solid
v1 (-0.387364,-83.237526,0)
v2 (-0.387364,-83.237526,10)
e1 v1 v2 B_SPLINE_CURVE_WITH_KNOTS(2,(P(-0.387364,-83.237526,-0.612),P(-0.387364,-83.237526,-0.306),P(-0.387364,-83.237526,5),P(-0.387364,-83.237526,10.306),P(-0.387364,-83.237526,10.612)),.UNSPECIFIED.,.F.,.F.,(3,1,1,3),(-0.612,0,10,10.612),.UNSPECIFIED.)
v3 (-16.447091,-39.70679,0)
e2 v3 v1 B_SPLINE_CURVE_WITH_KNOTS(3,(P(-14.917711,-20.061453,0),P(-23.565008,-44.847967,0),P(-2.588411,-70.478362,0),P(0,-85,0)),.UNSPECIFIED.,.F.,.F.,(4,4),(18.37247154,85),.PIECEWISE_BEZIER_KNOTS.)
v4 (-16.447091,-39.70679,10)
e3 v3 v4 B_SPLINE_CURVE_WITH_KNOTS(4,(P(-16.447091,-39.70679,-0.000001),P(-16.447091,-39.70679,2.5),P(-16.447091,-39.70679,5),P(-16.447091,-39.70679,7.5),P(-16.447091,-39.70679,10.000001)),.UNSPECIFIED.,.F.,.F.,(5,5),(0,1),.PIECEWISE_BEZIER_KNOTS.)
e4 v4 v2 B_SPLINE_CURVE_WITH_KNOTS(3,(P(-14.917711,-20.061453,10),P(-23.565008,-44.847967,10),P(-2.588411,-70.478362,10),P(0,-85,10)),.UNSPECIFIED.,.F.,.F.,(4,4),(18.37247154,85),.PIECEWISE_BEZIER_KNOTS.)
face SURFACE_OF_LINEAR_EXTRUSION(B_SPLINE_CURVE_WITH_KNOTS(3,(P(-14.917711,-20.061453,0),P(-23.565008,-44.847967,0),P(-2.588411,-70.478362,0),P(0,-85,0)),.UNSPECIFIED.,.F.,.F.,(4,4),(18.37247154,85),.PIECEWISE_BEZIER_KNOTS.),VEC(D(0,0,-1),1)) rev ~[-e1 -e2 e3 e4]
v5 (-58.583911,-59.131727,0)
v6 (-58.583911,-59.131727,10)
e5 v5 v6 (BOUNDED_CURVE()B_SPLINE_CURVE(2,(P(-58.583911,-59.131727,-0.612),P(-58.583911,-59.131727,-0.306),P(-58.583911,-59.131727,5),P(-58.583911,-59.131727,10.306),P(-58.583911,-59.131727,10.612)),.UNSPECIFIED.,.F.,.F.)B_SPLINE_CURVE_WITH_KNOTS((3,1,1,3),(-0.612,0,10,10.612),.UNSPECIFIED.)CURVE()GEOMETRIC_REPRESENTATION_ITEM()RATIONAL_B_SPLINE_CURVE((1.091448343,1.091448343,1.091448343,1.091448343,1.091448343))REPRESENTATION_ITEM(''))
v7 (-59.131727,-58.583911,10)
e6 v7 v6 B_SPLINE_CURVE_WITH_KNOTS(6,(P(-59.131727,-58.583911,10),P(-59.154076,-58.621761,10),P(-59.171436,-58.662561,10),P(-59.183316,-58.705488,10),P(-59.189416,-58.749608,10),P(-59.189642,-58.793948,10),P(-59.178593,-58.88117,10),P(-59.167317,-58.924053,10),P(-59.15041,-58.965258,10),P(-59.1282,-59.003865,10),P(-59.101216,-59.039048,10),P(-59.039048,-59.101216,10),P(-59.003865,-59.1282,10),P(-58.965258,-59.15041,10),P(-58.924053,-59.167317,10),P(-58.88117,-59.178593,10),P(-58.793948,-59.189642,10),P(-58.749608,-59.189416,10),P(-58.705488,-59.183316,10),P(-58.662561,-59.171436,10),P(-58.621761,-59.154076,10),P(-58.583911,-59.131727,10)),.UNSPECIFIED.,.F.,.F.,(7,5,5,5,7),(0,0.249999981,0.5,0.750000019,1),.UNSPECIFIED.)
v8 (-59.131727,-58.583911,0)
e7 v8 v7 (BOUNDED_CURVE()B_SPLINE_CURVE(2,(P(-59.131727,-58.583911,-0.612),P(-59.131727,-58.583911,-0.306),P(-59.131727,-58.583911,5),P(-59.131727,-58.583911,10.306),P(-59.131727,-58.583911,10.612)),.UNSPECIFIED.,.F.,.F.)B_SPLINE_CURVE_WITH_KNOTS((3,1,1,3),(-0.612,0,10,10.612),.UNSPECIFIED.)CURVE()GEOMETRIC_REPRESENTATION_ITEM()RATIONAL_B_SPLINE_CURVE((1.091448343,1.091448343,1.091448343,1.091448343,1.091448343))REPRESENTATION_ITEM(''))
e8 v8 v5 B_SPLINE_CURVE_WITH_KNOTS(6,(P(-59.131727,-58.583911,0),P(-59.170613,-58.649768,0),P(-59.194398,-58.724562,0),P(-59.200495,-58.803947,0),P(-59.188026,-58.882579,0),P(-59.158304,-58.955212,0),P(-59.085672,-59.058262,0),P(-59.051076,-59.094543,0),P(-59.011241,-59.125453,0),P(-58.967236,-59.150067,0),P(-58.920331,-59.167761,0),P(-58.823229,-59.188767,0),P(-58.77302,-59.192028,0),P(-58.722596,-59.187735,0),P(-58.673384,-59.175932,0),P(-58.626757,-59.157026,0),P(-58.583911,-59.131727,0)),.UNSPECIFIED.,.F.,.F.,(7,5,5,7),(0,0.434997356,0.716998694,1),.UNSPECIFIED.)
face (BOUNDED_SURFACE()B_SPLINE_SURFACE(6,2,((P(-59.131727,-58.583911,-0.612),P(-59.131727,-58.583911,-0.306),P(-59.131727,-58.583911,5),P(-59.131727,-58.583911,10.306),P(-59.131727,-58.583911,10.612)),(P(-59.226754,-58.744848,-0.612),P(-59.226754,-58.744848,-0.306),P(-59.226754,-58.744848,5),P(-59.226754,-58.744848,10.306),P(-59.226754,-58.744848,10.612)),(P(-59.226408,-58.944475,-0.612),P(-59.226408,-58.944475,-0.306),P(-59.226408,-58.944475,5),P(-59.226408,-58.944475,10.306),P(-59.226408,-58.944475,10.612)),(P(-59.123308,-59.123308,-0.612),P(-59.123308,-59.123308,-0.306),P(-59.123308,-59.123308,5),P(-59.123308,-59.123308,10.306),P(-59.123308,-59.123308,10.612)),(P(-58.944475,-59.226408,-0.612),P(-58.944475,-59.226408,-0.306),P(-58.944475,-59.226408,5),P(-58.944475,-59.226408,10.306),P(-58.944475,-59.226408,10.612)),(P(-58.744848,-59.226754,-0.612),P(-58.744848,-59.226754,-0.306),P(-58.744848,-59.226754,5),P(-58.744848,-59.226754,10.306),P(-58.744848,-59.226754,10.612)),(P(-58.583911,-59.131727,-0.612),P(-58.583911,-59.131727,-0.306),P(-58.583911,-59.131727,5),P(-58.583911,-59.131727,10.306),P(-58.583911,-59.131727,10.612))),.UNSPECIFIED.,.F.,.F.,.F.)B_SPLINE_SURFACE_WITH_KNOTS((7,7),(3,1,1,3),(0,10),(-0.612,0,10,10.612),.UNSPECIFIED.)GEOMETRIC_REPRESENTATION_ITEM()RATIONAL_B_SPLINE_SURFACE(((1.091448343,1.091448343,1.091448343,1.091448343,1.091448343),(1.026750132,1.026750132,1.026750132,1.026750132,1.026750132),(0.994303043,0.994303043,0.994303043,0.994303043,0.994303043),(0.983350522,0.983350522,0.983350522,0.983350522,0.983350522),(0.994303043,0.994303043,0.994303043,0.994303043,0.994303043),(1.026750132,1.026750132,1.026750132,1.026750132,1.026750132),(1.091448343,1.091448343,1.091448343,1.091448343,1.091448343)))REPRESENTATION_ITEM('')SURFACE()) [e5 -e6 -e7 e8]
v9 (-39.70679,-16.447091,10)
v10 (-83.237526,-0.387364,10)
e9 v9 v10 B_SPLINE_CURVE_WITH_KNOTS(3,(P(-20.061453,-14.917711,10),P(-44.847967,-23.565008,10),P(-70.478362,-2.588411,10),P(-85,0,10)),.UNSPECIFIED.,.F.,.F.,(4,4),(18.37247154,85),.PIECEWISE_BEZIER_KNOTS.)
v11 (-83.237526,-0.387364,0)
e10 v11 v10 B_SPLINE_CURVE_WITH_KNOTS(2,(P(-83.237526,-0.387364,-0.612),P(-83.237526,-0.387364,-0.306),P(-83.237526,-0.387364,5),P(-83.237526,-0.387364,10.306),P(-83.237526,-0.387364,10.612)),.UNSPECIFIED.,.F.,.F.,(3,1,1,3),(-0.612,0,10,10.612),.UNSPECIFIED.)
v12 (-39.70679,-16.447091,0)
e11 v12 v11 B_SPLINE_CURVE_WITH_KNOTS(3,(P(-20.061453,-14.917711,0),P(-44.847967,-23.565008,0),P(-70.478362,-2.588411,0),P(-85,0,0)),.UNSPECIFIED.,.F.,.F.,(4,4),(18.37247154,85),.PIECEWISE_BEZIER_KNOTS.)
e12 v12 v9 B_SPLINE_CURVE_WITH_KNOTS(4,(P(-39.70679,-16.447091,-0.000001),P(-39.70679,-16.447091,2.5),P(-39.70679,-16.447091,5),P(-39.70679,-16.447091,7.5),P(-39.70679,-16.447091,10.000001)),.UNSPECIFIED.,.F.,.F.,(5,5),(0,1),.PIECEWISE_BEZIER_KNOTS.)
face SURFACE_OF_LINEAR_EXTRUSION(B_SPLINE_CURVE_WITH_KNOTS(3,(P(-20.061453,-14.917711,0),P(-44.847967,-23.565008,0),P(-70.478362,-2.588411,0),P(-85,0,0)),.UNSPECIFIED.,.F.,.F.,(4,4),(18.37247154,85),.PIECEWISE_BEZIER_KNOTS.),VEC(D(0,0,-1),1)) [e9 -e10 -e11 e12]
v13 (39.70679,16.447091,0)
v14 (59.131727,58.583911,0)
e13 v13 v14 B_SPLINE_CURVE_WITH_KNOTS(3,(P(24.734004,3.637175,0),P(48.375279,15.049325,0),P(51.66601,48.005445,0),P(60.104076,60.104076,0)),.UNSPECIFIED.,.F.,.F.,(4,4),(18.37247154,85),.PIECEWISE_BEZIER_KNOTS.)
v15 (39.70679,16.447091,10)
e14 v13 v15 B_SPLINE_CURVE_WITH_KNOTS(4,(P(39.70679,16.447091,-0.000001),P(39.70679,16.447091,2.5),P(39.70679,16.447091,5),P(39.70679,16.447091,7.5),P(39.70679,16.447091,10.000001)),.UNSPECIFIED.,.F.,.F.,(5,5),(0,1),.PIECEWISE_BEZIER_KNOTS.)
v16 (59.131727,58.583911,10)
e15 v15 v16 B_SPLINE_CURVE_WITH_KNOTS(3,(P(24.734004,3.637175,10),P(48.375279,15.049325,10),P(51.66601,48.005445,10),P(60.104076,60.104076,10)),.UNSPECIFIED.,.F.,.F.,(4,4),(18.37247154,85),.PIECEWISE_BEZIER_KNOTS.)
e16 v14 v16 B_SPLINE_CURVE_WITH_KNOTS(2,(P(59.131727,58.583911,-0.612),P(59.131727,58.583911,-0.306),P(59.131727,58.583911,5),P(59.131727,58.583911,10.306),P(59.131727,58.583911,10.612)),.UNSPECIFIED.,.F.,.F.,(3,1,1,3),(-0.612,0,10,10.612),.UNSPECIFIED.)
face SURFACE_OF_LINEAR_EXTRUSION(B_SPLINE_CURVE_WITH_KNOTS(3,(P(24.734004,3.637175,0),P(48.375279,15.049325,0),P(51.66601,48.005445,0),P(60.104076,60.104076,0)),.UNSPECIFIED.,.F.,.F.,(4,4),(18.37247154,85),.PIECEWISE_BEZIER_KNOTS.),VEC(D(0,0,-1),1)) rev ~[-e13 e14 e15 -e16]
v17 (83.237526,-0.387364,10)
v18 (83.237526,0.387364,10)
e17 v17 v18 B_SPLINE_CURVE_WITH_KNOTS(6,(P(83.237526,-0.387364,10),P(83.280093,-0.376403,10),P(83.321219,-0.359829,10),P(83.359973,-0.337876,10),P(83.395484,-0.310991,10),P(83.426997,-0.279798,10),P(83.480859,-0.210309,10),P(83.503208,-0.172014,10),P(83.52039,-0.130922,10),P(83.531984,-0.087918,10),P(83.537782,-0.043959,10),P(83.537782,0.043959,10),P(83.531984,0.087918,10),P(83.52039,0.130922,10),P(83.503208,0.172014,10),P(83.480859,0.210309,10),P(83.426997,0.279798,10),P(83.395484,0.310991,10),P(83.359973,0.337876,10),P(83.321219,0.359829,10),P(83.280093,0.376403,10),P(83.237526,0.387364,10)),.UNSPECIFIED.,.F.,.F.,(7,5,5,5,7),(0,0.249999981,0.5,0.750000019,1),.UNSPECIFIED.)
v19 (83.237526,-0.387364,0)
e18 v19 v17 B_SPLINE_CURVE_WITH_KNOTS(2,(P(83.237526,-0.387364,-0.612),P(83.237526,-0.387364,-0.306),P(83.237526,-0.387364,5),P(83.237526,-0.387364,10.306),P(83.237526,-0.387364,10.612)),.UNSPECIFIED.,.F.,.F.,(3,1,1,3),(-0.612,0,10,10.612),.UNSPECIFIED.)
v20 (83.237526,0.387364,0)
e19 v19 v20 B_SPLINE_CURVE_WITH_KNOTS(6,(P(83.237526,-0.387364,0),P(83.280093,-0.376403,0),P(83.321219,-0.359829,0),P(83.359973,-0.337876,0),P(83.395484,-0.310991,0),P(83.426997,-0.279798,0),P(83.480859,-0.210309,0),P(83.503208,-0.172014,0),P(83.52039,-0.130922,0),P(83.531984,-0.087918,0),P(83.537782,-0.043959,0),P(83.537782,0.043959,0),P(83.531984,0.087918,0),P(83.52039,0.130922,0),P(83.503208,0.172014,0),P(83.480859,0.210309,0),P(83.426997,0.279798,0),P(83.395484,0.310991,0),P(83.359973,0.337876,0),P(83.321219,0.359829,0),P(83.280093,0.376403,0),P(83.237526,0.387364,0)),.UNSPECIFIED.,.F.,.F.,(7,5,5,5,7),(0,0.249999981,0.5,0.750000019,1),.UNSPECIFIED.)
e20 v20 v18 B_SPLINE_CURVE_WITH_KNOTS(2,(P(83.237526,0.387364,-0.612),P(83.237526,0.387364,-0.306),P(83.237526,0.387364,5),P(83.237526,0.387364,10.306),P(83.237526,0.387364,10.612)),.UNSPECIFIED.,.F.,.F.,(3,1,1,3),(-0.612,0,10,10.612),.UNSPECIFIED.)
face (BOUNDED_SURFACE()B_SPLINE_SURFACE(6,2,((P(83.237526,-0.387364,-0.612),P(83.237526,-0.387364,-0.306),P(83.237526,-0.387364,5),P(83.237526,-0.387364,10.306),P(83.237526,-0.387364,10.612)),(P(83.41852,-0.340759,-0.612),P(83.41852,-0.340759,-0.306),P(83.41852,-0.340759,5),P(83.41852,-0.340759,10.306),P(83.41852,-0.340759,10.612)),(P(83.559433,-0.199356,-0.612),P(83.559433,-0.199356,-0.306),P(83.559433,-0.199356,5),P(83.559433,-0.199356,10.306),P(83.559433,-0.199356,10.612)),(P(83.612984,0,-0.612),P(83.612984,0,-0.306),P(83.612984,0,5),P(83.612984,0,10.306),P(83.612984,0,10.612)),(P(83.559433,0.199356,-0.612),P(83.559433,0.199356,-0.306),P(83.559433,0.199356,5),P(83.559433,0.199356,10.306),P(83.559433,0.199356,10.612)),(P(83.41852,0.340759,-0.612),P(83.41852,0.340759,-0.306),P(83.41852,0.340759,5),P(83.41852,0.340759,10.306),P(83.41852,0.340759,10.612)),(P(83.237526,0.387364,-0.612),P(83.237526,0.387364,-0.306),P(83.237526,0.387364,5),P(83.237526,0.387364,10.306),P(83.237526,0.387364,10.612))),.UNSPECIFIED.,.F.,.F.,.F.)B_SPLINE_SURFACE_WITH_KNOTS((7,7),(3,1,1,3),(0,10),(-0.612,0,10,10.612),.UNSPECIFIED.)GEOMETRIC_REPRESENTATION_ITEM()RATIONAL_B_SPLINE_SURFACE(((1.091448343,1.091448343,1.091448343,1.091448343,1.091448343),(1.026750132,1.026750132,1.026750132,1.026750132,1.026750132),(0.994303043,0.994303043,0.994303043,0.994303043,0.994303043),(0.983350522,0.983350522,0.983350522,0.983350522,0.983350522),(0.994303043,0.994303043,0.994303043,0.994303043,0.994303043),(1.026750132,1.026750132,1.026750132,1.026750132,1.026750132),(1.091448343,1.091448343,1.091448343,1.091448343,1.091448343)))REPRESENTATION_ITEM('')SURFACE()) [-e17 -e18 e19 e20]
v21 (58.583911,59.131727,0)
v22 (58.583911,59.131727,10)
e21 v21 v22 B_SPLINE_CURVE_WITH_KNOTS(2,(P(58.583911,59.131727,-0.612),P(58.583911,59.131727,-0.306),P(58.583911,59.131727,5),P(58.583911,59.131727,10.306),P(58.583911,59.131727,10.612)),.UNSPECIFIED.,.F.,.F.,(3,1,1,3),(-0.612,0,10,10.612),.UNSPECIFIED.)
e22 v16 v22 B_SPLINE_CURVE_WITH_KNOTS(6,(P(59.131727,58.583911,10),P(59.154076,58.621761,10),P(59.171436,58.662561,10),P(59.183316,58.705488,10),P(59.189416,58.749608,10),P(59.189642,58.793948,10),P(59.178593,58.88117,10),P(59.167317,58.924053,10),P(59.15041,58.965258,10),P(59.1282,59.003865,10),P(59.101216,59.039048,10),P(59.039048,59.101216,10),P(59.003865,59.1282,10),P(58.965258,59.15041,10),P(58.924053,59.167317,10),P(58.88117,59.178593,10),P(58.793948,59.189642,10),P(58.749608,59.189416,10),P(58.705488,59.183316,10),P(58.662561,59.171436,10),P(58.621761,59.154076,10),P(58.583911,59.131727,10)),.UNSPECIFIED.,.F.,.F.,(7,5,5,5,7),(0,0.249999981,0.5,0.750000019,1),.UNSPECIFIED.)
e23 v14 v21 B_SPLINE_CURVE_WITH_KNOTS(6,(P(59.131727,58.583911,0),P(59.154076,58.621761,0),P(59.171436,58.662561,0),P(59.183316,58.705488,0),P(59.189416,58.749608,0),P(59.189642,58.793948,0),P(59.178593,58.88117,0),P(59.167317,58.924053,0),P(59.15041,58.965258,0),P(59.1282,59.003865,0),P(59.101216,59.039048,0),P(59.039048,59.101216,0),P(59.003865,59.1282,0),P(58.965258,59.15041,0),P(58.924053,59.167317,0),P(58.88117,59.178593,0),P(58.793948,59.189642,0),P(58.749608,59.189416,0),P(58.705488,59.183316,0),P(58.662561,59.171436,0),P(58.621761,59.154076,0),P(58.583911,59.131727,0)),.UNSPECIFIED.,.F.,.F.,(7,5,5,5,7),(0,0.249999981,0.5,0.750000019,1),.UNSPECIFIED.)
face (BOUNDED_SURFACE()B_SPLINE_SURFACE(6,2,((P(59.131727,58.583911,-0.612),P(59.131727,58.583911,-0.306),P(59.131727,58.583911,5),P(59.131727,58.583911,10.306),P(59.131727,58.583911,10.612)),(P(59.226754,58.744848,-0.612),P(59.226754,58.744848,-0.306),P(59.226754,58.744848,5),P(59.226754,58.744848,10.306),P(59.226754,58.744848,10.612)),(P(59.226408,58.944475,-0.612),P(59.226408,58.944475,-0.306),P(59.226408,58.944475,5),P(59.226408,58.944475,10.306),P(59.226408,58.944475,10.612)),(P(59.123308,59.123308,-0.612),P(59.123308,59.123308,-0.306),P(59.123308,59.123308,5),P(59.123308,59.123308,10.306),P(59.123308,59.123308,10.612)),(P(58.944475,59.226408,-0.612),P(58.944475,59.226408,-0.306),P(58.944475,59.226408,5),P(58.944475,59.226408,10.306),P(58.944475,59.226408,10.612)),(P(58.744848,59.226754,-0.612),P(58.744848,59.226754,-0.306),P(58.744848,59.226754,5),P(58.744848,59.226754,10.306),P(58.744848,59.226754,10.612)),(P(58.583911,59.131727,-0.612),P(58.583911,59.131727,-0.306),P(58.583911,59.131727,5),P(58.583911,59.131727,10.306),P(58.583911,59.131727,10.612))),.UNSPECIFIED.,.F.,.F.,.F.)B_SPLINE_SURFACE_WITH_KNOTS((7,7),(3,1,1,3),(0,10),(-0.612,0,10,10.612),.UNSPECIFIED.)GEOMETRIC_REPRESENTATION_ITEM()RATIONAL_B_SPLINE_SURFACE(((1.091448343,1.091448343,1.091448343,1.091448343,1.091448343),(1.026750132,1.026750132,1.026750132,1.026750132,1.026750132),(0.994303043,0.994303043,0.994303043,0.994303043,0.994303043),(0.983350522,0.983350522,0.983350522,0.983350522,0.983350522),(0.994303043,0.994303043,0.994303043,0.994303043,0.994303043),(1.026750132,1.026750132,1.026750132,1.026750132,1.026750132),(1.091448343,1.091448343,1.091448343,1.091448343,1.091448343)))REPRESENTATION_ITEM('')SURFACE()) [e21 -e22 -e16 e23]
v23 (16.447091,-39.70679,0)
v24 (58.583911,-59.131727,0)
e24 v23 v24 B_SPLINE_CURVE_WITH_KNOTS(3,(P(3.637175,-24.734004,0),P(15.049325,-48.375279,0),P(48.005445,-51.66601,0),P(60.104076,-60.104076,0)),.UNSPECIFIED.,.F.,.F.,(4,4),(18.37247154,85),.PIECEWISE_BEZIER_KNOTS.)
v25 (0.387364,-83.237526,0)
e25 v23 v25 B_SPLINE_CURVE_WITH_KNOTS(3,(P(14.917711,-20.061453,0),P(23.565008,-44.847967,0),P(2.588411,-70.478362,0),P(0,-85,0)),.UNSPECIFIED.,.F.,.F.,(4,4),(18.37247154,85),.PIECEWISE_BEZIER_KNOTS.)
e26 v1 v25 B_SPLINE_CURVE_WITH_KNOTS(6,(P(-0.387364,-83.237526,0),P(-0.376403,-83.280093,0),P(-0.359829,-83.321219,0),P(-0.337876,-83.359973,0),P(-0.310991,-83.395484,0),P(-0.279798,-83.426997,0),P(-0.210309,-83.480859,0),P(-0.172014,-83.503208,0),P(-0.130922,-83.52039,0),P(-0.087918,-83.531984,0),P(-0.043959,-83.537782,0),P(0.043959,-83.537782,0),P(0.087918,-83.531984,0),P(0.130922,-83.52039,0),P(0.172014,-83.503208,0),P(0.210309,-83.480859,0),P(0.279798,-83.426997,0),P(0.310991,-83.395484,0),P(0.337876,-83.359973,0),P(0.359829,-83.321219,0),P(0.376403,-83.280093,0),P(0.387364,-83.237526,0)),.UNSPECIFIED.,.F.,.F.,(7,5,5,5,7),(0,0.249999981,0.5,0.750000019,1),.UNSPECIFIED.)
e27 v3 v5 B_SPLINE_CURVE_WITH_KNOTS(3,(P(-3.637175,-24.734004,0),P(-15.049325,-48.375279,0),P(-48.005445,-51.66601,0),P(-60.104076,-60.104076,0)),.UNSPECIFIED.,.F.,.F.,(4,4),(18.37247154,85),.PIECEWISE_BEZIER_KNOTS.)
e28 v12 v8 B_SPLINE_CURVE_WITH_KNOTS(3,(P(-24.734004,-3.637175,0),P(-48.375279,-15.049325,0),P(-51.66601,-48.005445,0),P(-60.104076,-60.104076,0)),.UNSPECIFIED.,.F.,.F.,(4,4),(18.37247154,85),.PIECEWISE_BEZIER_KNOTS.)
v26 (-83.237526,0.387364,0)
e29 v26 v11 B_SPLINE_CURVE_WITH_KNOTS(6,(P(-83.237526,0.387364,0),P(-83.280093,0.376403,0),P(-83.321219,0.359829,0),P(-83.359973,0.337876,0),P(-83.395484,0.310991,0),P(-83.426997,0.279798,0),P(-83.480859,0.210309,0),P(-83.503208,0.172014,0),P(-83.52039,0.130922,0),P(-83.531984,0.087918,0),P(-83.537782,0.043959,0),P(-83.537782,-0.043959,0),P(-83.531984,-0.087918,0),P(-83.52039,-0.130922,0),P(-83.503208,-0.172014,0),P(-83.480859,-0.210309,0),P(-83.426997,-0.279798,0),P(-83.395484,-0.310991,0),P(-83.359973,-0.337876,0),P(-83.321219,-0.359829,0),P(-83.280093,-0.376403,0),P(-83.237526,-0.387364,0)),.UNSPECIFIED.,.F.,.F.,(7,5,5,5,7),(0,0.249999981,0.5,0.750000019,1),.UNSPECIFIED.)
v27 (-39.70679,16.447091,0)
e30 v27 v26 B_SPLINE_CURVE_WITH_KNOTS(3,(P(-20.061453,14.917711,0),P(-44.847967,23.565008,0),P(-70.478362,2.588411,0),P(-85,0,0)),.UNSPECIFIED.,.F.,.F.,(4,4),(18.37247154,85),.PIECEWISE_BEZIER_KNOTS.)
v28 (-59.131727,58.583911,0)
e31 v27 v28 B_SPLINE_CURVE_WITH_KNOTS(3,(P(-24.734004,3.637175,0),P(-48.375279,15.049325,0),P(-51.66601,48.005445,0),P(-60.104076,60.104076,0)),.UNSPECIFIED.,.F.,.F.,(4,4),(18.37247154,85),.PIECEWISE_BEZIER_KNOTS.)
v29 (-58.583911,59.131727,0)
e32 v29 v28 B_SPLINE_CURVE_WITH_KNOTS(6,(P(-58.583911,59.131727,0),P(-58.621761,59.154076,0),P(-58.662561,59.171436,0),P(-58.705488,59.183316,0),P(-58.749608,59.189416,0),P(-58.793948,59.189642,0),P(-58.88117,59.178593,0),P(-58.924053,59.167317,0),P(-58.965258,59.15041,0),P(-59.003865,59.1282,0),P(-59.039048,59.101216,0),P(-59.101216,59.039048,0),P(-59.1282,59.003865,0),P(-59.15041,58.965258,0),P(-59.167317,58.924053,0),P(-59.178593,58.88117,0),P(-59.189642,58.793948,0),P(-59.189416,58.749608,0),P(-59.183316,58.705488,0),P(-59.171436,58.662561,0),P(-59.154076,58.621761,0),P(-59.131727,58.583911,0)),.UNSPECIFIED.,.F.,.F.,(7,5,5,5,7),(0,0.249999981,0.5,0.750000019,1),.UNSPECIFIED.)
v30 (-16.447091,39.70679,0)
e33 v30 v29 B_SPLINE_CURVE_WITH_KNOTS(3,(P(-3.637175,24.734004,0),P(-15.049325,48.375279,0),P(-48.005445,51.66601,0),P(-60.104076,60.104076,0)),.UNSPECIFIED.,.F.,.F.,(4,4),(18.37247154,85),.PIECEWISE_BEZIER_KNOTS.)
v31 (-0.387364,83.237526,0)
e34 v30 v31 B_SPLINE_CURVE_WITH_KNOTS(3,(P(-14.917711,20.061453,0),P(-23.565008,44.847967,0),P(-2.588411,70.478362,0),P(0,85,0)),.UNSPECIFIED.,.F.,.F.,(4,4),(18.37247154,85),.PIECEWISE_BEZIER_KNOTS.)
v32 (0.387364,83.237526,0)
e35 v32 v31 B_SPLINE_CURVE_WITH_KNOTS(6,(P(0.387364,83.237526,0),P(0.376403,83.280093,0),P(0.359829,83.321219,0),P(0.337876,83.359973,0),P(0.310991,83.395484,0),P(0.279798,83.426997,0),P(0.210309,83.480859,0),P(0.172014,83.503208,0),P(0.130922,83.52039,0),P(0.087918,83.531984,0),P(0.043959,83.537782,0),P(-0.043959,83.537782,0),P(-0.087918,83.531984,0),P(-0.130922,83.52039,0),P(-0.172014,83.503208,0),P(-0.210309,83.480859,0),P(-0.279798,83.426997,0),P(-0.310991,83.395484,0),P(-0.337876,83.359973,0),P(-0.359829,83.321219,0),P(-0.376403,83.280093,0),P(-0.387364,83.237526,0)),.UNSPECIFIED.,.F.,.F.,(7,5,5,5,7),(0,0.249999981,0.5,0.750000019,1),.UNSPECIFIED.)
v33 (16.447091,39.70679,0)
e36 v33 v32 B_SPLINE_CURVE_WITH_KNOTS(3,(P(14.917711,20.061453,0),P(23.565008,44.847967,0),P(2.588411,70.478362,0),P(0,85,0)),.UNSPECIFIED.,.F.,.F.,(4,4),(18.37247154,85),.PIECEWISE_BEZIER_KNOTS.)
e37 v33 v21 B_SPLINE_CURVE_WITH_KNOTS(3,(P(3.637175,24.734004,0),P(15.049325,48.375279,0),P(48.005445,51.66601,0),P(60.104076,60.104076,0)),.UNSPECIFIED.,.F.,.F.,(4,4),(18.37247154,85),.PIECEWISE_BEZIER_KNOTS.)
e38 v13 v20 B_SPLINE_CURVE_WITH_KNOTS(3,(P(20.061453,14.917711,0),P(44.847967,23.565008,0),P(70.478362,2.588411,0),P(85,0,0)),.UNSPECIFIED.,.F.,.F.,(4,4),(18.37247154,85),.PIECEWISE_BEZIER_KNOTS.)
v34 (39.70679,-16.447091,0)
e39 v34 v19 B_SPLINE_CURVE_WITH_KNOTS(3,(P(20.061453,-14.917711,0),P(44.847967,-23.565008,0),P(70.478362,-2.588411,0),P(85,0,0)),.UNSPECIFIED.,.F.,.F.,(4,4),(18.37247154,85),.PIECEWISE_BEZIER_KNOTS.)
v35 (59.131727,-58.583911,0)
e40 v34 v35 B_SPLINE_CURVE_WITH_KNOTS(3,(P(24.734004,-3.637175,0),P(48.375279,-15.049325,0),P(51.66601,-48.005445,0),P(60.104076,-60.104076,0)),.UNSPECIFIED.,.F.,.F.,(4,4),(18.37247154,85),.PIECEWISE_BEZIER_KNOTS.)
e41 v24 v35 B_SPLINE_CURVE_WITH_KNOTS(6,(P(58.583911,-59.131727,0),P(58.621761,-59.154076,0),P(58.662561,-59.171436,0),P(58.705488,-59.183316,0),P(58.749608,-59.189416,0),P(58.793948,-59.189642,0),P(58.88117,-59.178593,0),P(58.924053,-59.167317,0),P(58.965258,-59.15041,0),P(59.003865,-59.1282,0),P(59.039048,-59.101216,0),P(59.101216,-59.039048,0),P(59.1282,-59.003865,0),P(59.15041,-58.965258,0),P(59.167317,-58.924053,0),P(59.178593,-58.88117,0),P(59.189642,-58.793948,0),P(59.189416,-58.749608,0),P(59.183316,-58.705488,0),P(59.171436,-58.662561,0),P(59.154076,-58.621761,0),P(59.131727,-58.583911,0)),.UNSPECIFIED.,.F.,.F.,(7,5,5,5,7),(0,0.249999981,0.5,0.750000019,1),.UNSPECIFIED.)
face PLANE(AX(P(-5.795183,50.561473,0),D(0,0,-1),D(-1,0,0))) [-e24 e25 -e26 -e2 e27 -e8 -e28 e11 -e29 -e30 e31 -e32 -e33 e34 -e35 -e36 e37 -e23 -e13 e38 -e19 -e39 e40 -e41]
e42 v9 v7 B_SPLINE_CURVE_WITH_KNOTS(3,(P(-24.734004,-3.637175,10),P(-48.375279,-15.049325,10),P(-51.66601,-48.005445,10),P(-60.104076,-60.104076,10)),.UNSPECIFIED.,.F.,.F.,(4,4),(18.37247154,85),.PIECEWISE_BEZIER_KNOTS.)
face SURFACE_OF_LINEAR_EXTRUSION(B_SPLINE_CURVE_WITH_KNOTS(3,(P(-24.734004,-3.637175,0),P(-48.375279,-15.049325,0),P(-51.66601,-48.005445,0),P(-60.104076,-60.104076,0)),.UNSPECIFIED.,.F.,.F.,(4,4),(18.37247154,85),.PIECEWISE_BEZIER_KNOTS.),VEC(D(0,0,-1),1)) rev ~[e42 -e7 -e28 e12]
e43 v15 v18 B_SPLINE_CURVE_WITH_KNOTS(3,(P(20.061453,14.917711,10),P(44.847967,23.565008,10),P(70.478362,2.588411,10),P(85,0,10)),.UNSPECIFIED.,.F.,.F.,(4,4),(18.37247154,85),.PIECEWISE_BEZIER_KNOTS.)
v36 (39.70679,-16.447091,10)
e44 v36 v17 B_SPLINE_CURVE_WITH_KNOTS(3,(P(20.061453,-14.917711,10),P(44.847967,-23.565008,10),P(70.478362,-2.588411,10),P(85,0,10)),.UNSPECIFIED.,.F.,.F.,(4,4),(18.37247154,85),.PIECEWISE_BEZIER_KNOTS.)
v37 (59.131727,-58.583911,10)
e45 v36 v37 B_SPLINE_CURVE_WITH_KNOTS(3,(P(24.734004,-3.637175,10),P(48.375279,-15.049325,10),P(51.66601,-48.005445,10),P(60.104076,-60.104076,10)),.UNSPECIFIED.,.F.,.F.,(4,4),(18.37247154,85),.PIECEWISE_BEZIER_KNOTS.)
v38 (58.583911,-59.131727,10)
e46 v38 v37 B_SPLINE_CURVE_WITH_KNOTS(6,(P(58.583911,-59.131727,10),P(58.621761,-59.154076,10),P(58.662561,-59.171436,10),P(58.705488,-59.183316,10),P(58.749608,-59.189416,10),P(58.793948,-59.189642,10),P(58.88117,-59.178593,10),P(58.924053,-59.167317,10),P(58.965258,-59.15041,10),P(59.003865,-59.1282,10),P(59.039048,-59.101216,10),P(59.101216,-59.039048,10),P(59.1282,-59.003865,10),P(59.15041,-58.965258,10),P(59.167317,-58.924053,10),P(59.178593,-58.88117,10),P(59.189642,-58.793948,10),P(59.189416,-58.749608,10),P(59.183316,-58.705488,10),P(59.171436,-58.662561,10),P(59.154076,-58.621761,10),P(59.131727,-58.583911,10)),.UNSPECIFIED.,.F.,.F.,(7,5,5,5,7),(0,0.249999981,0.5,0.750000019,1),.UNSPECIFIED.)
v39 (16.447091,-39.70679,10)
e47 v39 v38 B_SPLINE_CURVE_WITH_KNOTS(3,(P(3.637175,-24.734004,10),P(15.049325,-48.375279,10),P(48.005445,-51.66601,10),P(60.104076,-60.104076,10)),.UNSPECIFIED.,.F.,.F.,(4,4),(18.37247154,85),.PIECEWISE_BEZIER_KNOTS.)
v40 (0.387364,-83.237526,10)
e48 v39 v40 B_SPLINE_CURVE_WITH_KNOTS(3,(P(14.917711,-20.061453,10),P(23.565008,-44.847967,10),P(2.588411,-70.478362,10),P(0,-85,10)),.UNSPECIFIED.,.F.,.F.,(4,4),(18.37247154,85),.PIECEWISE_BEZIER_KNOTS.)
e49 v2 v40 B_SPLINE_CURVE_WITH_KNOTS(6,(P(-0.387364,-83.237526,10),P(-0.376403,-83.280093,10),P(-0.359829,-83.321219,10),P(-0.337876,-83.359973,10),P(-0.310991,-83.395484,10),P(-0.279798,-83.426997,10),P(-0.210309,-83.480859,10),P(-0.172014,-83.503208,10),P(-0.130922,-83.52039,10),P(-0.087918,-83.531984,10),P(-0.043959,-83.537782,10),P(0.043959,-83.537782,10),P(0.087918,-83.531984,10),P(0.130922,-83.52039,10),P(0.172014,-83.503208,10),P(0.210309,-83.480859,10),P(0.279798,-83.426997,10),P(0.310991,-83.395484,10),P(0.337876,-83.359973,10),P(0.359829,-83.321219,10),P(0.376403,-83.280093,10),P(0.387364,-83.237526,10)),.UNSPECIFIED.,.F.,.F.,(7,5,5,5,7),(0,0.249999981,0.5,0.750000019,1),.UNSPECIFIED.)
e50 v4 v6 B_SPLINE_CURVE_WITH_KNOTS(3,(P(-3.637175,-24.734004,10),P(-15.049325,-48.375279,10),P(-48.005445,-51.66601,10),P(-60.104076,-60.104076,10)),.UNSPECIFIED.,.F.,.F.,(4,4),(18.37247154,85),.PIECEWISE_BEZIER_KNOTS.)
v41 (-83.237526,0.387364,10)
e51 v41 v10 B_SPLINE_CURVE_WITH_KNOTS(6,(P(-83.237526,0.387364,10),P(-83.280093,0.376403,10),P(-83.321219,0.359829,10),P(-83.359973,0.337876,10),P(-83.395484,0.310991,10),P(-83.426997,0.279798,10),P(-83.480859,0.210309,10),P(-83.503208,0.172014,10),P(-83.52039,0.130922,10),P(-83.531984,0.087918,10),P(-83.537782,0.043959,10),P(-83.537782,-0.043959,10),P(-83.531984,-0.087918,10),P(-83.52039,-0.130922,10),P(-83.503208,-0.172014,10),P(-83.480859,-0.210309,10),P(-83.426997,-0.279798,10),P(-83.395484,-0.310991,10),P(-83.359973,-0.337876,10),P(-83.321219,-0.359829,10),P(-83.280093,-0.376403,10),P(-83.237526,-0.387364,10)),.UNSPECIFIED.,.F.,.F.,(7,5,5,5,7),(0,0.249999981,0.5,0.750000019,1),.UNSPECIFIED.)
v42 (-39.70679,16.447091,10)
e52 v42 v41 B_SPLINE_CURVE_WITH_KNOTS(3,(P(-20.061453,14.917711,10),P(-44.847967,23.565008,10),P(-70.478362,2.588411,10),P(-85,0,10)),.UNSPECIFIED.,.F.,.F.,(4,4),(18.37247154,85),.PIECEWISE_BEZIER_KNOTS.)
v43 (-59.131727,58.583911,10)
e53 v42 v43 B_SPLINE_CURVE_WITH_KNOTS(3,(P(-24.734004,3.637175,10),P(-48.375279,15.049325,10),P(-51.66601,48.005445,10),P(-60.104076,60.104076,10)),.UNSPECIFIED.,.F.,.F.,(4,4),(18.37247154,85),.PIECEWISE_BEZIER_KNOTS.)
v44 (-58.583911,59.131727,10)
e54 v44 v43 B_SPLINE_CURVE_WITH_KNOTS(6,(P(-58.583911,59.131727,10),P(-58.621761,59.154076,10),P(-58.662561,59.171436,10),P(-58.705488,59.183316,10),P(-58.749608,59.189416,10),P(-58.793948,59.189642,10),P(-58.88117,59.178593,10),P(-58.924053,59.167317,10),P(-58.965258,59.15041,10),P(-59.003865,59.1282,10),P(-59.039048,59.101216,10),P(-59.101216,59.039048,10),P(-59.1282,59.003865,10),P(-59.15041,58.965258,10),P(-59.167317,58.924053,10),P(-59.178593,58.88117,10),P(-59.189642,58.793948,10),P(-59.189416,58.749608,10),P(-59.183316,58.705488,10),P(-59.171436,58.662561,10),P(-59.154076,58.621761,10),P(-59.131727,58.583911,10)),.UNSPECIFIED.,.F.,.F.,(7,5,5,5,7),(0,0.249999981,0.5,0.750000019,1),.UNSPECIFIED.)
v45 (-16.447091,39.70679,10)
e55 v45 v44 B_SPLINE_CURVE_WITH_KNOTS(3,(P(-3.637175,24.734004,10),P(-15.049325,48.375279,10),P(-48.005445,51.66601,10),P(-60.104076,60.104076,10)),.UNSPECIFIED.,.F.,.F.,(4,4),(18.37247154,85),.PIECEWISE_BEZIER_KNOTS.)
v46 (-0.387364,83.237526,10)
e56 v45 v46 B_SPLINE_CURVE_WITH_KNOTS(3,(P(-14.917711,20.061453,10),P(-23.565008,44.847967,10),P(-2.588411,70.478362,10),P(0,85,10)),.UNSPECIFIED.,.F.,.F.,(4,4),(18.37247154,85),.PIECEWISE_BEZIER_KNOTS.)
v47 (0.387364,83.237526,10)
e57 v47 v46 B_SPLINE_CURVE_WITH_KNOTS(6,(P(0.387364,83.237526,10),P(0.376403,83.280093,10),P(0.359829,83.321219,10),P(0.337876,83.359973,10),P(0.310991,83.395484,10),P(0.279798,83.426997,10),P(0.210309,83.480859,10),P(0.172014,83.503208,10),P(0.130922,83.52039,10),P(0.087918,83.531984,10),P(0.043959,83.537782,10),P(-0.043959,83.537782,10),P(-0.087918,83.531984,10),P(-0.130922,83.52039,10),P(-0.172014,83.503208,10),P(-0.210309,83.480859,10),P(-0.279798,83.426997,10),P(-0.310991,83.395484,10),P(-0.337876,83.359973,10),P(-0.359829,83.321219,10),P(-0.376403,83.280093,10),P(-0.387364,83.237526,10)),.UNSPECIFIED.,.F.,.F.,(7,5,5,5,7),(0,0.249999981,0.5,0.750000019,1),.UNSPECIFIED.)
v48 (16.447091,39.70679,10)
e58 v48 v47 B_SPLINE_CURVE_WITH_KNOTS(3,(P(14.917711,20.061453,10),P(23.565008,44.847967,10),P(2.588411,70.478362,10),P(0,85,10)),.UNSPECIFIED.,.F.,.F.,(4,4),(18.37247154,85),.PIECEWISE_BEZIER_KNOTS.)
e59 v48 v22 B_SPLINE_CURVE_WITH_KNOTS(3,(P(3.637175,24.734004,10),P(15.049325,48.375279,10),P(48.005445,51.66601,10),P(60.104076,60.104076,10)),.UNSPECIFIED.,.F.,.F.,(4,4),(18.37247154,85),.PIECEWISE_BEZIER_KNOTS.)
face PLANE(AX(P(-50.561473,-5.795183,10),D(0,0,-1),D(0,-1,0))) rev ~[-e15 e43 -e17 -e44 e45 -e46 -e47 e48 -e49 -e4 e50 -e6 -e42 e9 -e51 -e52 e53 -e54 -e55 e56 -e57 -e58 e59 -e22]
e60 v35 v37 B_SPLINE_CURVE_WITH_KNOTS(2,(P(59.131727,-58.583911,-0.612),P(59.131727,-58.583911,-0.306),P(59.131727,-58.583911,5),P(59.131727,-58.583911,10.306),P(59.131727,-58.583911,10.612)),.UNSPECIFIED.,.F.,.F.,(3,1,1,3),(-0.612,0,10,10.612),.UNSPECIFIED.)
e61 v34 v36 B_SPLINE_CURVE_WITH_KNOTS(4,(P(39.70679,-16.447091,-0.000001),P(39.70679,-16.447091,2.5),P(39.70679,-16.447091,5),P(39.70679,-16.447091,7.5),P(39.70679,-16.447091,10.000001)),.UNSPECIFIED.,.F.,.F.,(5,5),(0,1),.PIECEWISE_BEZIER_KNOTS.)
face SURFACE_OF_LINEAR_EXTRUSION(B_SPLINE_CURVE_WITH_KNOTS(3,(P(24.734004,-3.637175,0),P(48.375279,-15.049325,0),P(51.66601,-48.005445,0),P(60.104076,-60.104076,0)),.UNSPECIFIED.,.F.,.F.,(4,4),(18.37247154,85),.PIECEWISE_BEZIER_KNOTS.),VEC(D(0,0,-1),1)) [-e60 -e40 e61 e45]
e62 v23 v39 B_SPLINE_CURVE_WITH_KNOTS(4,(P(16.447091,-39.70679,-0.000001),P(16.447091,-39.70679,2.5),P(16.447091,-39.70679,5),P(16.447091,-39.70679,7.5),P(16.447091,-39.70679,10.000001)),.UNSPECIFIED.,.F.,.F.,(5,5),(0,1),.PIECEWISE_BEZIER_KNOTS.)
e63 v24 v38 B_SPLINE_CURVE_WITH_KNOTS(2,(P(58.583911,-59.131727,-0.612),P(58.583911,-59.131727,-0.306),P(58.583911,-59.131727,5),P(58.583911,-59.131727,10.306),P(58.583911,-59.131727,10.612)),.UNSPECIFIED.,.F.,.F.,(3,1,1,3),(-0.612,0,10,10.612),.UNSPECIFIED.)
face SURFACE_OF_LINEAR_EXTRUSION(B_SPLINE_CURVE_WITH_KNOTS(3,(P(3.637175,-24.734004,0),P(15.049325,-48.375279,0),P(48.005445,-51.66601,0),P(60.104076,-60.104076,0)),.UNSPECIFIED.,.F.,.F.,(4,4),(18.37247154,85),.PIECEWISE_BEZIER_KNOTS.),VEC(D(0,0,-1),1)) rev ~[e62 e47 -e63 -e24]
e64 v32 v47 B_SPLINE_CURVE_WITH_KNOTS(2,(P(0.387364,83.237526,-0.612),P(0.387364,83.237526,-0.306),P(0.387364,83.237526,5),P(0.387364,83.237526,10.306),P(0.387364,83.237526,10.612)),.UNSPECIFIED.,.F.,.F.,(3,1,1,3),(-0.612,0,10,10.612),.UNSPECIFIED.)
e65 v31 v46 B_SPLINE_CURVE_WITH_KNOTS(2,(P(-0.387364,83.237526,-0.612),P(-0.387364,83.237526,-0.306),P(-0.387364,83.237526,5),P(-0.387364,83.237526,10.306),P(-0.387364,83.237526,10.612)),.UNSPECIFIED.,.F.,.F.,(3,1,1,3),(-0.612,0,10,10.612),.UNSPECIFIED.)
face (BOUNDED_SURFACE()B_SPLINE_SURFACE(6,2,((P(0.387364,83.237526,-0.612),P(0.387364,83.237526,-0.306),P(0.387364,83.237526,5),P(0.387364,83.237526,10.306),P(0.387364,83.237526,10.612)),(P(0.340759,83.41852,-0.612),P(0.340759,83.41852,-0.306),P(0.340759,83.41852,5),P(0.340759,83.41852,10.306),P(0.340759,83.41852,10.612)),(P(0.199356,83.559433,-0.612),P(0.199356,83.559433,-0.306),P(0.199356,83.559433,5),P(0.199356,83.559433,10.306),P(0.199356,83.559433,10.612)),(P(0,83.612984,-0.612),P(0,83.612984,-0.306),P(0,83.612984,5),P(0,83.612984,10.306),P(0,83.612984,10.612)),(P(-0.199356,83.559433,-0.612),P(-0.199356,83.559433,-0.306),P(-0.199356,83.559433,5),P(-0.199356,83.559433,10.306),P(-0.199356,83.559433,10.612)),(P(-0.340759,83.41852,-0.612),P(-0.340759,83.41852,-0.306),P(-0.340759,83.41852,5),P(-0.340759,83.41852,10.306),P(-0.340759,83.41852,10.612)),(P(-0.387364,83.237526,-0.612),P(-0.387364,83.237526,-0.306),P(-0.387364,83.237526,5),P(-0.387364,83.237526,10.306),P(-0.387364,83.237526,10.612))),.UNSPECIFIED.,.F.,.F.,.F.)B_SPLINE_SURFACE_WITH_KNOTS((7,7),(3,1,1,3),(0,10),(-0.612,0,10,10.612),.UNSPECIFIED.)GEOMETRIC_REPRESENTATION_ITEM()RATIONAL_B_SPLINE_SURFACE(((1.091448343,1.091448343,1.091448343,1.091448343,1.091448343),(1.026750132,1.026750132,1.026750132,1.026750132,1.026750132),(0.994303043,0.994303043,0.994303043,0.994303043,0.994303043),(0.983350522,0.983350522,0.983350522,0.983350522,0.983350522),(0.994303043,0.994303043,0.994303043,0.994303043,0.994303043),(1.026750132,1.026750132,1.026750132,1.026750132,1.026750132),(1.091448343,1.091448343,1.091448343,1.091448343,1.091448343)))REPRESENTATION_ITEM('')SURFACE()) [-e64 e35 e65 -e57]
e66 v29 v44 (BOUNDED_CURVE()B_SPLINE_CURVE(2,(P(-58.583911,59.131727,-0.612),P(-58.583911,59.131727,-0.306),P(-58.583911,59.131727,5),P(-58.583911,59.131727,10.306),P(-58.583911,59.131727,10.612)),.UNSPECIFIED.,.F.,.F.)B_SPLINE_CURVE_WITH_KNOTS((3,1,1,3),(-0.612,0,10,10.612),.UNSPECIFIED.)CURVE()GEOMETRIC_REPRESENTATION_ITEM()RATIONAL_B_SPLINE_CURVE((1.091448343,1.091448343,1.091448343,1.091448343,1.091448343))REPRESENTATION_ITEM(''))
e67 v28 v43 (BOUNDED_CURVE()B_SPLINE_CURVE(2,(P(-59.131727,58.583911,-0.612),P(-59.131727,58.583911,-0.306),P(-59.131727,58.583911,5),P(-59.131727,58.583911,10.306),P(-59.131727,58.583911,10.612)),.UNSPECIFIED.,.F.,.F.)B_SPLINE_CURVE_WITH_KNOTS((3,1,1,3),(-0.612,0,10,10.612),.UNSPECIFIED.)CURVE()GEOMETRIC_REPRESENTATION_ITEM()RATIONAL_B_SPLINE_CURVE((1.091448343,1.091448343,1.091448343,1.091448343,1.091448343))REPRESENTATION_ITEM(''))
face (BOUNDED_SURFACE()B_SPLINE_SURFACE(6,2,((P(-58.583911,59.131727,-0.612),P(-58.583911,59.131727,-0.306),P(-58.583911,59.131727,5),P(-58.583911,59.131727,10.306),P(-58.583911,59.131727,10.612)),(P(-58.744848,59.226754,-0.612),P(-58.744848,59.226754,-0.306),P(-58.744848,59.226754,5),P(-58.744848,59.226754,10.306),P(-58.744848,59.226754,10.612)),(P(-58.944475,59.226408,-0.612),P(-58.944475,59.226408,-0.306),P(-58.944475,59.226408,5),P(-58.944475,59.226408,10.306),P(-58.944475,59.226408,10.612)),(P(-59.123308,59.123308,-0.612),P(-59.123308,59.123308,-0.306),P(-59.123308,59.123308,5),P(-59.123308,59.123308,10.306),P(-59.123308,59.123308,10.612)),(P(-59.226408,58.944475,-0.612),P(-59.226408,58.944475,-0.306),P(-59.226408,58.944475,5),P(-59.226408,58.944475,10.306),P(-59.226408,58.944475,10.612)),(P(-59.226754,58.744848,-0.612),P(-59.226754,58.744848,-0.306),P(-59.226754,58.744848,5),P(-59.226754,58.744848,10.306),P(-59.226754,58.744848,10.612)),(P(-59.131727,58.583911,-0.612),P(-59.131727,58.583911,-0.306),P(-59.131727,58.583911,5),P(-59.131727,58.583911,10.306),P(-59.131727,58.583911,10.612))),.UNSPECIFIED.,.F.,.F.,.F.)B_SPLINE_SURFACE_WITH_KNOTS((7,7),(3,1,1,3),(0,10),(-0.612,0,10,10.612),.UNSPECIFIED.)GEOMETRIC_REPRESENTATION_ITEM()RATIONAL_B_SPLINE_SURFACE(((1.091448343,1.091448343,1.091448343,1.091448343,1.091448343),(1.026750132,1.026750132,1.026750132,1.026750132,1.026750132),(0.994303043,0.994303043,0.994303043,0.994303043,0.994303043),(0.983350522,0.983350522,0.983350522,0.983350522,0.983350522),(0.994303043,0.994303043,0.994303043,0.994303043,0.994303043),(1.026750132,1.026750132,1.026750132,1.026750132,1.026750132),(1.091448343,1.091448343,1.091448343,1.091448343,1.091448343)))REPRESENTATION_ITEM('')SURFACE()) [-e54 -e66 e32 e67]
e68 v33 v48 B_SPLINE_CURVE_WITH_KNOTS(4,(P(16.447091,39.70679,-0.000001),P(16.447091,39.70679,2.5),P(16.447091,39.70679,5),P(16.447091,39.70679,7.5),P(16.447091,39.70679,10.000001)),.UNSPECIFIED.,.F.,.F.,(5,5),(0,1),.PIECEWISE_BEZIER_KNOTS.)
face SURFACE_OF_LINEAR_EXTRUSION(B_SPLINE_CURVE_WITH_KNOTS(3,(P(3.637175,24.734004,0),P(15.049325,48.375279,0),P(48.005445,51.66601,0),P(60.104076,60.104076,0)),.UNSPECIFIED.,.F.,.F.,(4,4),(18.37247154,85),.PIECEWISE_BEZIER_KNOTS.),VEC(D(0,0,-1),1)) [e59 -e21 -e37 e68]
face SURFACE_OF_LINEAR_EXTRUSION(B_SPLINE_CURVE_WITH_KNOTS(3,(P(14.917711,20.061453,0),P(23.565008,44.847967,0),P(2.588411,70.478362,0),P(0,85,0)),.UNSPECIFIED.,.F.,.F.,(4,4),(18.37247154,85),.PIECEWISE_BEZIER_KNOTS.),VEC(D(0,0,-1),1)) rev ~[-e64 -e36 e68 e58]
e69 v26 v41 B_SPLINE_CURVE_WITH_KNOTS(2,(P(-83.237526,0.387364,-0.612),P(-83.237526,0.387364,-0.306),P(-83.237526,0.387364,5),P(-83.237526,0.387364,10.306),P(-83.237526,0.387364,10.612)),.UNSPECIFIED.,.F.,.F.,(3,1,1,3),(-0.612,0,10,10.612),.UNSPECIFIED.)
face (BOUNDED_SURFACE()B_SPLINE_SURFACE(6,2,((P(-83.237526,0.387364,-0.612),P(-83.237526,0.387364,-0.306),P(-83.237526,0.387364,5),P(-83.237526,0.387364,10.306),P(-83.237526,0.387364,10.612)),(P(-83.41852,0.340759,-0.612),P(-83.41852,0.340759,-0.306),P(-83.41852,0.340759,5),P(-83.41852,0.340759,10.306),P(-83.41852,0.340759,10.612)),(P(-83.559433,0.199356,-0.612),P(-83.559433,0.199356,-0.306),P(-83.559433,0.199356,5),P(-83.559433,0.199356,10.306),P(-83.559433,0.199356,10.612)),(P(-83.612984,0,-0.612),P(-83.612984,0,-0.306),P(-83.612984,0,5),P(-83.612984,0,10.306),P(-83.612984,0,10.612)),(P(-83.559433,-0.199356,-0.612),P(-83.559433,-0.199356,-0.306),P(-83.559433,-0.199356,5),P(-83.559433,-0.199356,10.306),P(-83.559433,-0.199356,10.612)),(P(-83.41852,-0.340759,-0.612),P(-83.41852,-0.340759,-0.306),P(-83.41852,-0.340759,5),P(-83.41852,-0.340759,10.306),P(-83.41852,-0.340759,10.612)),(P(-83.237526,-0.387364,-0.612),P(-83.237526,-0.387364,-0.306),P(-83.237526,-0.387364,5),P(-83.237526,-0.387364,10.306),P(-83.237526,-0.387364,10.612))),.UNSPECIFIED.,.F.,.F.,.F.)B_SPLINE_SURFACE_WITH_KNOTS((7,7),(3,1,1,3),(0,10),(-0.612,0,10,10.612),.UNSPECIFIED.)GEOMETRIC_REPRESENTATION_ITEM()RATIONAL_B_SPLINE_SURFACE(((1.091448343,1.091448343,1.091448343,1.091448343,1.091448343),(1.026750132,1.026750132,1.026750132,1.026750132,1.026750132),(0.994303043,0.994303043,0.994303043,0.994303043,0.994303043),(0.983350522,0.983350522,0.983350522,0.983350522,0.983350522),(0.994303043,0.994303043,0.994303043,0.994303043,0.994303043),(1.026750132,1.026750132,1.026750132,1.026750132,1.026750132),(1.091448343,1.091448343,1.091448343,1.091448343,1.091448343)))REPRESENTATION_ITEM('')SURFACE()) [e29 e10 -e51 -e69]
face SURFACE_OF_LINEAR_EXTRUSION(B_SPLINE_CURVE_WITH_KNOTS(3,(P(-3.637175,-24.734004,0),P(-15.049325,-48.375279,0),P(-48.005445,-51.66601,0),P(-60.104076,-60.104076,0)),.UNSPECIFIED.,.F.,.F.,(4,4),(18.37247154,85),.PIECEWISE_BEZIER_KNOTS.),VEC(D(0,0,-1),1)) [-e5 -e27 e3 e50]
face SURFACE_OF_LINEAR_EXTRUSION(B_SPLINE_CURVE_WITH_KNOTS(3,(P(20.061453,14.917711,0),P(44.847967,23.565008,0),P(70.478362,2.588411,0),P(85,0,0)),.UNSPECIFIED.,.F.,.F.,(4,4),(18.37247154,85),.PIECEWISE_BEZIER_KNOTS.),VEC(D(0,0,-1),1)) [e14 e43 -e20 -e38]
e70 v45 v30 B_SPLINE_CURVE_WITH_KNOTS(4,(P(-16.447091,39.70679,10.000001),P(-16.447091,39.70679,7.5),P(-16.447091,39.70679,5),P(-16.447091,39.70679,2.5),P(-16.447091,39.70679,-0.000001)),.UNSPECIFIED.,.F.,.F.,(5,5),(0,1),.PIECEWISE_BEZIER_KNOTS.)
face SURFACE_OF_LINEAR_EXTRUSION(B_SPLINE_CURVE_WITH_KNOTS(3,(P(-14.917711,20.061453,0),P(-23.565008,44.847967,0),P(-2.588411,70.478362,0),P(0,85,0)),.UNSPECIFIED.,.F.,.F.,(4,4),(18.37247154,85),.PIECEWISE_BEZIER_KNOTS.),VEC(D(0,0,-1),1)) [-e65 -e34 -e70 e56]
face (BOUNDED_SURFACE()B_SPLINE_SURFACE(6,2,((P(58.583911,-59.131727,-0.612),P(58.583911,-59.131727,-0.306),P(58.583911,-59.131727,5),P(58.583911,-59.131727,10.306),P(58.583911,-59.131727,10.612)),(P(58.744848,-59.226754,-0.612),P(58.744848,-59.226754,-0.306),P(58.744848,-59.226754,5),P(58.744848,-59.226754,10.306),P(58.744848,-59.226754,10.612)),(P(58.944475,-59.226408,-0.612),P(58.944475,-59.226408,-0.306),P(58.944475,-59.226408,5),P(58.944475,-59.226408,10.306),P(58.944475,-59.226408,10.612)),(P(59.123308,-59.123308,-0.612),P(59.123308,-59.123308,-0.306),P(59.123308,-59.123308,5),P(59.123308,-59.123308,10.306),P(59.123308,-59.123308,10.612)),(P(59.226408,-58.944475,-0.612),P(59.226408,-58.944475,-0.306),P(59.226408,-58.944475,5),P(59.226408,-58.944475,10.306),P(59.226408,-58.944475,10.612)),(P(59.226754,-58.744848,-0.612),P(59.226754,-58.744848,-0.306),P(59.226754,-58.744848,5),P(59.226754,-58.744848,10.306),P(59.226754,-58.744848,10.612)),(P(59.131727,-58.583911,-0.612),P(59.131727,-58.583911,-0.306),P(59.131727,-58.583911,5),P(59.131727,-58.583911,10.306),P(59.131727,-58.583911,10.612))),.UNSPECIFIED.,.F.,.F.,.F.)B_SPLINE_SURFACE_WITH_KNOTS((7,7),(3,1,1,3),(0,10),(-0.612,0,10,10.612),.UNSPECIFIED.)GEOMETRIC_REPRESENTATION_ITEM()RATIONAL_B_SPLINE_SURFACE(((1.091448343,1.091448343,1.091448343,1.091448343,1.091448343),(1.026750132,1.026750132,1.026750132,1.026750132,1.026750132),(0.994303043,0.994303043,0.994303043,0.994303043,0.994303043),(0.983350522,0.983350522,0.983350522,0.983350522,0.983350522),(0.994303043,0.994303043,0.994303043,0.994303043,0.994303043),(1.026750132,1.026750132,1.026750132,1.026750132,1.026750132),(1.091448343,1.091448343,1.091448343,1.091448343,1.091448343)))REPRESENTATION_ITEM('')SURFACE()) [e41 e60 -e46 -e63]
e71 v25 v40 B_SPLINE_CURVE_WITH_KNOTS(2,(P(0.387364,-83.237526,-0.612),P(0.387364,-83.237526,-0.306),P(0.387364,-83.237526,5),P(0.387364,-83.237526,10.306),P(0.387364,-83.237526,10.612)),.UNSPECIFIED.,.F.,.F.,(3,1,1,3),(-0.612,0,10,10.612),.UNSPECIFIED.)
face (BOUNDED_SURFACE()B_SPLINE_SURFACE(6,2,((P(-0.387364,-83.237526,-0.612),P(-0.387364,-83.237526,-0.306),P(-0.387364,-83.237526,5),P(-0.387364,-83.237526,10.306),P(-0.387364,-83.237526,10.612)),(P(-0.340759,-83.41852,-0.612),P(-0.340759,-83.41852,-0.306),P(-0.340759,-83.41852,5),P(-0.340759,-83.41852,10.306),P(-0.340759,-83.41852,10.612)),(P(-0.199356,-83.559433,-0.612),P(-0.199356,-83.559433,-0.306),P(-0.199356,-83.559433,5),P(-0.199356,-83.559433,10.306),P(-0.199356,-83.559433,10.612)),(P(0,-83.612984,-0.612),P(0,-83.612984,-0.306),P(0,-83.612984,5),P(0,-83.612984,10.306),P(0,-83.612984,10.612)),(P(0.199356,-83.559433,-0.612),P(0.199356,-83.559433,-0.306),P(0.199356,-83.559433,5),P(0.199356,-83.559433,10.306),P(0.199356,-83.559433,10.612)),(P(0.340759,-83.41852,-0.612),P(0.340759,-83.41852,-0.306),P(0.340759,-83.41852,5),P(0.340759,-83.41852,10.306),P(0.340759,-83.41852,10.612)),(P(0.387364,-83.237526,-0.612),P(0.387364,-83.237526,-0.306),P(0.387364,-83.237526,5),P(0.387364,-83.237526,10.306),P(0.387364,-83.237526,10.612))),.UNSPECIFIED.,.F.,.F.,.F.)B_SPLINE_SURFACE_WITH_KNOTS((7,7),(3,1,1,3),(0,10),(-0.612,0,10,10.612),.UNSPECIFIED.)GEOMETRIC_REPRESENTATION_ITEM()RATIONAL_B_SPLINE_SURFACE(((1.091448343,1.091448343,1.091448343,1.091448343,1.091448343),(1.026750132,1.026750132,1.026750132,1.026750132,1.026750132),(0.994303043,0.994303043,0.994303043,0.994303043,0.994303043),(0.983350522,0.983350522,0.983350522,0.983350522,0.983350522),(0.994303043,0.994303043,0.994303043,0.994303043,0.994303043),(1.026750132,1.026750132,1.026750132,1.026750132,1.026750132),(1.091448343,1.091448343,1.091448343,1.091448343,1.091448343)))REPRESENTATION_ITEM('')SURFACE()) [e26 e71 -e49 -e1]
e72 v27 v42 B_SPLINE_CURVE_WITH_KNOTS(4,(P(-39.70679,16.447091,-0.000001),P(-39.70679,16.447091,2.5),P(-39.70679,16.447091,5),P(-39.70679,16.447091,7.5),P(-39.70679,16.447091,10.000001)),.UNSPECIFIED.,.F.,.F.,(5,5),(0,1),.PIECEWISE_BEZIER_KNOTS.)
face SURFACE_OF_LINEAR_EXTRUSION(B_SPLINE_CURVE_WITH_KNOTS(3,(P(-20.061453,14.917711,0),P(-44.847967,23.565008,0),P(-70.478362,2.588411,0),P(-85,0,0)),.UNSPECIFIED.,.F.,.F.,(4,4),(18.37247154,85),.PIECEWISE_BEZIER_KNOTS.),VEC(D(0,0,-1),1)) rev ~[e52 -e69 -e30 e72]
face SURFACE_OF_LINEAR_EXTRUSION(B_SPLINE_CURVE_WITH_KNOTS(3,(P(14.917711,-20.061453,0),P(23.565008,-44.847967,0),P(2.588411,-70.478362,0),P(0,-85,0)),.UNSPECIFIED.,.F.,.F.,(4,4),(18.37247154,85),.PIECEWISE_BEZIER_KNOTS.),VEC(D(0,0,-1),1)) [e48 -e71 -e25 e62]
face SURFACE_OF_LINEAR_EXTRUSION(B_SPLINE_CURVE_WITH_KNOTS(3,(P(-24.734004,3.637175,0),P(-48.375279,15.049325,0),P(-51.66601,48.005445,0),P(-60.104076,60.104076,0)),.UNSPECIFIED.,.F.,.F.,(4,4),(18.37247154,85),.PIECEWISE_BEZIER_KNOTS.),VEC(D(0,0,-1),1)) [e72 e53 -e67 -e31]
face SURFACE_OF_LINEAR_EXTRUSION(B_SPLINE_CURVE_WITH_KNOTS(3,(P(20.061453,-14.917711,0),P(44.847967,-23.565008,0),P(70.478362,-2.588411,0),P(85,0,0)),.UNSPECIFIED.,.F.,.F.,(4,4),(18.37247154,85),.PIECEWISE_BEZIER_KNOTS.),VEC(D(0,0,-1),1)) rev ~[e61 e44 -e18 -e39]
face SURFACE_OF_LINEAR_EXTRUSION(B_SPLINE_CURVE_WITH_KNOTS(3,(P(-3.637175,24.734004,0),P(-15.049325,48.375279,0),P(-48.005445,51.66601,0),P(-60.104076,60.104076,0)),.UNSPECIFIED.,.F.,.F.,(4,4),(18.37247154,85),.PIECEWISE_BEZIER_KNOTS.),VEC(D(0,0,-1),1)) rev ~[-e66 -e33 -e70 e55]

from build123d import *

# Parameters (mm, degrees)
F1_DEPTH = 10
F2_COUNT = 8
F3_R     = 0.4


with BuildPart() as f1:
    # F0 (on Top) → F1 (new body)
    with BuildSketch(Plane.XY):
        with BuildLine():
            add(Edge.make_bspline(
                [(-14.9177111461, 20.0614529425), (-23.5650084882, 44.8479673469), (-2.5884105388, 70.4783619432), (0, 85)],
                knots=[18.3724715396, 18.3724715396, 18.3724715396, 18.3724715396, 85, 85, 85, 85], degree=3))
            ThreePointArc((-14.9177111461, 20.0614529425), (-7.8569611313, 23.7332711985), (0, 25))
            Line((0, 25), (0, 85))
        make_face()
        with BuildLine():
            ThreePointArc((0, 25), (7.8569611313, 23.7332711985), (14.9177111461, 20.0614529425))
            add(Edge.make_bspline(
                [(14.9177111461, 20.0614529425), (23.5650084882, 44.8479673469), (2.5884105388, 70.4783619432), (0, 85)],
                knots=[18.3724715396, 18.3724715396, 18.3724715396, 18.3724715396, 85, 85, 85, 85], degree=3))
            Line((0, 85), (0, 25))
        make_face()
        with BuildLine():
            add(Edge.make_bspline(
                [(0, 0), (7.8962181087, 6.4559084388), (12.5332279154, 13.2265974258), (14.9177111461, 20.0614529425)],
                knots=[0, 0, 0, 0, 18.3724715396, 18.3724715396, 18.3724715396, 18.3724715396], degree=3))
            ThreePointArc((14.9177111461, 20.0614529425), (7.8569611313, 23.7332711985), (0, 25))
            ThreePointArc((0, 25), (-7.8569611313, 23.7332711985), (-14.9177111461, 20.0614529425))
            add(Edge.make_bspline(
                [(0, 0), (-7.8962181087, 6.4559084388), (-12.5332279154, 13.2265974258), (-14.9177111461, 20.0614529425)],
                knots=[0, 0, 0, 0, 18.3724715396, 18.3724715396, 18.3724715396, 18.3724715396], degree=3))
        make_face()
    extrude(amount=F1_DEPTH)

    # F2: F1 ×8 about axis
    f2_axis = Axis((0, 0, 5), (0, 0, -1))


with BuildPart() as f1_1:
    add(f1.part)
    for i in range(1, F2_COUNT):
        add(f1.part.rotate(f2_axis, i * 360 / F2_COUNT))

    # F3
    f3_edges = [f1_1.edges().sort_by_distance(p)[0] for p in [
        (60.104076, 60.104076, 5),
        (85, 0, 5),
        (60.104076, -60.104076, 5),
        (0, -85, 5),
        (0, 85, 5),
        (-60.104076, 60.104076, 5),
        (-85, 0, 5),
        (-60.104076, -60.104076, 5),
    ]]
    fillet(f3_edges, radius=F3_R)


solid = f1_1.part
